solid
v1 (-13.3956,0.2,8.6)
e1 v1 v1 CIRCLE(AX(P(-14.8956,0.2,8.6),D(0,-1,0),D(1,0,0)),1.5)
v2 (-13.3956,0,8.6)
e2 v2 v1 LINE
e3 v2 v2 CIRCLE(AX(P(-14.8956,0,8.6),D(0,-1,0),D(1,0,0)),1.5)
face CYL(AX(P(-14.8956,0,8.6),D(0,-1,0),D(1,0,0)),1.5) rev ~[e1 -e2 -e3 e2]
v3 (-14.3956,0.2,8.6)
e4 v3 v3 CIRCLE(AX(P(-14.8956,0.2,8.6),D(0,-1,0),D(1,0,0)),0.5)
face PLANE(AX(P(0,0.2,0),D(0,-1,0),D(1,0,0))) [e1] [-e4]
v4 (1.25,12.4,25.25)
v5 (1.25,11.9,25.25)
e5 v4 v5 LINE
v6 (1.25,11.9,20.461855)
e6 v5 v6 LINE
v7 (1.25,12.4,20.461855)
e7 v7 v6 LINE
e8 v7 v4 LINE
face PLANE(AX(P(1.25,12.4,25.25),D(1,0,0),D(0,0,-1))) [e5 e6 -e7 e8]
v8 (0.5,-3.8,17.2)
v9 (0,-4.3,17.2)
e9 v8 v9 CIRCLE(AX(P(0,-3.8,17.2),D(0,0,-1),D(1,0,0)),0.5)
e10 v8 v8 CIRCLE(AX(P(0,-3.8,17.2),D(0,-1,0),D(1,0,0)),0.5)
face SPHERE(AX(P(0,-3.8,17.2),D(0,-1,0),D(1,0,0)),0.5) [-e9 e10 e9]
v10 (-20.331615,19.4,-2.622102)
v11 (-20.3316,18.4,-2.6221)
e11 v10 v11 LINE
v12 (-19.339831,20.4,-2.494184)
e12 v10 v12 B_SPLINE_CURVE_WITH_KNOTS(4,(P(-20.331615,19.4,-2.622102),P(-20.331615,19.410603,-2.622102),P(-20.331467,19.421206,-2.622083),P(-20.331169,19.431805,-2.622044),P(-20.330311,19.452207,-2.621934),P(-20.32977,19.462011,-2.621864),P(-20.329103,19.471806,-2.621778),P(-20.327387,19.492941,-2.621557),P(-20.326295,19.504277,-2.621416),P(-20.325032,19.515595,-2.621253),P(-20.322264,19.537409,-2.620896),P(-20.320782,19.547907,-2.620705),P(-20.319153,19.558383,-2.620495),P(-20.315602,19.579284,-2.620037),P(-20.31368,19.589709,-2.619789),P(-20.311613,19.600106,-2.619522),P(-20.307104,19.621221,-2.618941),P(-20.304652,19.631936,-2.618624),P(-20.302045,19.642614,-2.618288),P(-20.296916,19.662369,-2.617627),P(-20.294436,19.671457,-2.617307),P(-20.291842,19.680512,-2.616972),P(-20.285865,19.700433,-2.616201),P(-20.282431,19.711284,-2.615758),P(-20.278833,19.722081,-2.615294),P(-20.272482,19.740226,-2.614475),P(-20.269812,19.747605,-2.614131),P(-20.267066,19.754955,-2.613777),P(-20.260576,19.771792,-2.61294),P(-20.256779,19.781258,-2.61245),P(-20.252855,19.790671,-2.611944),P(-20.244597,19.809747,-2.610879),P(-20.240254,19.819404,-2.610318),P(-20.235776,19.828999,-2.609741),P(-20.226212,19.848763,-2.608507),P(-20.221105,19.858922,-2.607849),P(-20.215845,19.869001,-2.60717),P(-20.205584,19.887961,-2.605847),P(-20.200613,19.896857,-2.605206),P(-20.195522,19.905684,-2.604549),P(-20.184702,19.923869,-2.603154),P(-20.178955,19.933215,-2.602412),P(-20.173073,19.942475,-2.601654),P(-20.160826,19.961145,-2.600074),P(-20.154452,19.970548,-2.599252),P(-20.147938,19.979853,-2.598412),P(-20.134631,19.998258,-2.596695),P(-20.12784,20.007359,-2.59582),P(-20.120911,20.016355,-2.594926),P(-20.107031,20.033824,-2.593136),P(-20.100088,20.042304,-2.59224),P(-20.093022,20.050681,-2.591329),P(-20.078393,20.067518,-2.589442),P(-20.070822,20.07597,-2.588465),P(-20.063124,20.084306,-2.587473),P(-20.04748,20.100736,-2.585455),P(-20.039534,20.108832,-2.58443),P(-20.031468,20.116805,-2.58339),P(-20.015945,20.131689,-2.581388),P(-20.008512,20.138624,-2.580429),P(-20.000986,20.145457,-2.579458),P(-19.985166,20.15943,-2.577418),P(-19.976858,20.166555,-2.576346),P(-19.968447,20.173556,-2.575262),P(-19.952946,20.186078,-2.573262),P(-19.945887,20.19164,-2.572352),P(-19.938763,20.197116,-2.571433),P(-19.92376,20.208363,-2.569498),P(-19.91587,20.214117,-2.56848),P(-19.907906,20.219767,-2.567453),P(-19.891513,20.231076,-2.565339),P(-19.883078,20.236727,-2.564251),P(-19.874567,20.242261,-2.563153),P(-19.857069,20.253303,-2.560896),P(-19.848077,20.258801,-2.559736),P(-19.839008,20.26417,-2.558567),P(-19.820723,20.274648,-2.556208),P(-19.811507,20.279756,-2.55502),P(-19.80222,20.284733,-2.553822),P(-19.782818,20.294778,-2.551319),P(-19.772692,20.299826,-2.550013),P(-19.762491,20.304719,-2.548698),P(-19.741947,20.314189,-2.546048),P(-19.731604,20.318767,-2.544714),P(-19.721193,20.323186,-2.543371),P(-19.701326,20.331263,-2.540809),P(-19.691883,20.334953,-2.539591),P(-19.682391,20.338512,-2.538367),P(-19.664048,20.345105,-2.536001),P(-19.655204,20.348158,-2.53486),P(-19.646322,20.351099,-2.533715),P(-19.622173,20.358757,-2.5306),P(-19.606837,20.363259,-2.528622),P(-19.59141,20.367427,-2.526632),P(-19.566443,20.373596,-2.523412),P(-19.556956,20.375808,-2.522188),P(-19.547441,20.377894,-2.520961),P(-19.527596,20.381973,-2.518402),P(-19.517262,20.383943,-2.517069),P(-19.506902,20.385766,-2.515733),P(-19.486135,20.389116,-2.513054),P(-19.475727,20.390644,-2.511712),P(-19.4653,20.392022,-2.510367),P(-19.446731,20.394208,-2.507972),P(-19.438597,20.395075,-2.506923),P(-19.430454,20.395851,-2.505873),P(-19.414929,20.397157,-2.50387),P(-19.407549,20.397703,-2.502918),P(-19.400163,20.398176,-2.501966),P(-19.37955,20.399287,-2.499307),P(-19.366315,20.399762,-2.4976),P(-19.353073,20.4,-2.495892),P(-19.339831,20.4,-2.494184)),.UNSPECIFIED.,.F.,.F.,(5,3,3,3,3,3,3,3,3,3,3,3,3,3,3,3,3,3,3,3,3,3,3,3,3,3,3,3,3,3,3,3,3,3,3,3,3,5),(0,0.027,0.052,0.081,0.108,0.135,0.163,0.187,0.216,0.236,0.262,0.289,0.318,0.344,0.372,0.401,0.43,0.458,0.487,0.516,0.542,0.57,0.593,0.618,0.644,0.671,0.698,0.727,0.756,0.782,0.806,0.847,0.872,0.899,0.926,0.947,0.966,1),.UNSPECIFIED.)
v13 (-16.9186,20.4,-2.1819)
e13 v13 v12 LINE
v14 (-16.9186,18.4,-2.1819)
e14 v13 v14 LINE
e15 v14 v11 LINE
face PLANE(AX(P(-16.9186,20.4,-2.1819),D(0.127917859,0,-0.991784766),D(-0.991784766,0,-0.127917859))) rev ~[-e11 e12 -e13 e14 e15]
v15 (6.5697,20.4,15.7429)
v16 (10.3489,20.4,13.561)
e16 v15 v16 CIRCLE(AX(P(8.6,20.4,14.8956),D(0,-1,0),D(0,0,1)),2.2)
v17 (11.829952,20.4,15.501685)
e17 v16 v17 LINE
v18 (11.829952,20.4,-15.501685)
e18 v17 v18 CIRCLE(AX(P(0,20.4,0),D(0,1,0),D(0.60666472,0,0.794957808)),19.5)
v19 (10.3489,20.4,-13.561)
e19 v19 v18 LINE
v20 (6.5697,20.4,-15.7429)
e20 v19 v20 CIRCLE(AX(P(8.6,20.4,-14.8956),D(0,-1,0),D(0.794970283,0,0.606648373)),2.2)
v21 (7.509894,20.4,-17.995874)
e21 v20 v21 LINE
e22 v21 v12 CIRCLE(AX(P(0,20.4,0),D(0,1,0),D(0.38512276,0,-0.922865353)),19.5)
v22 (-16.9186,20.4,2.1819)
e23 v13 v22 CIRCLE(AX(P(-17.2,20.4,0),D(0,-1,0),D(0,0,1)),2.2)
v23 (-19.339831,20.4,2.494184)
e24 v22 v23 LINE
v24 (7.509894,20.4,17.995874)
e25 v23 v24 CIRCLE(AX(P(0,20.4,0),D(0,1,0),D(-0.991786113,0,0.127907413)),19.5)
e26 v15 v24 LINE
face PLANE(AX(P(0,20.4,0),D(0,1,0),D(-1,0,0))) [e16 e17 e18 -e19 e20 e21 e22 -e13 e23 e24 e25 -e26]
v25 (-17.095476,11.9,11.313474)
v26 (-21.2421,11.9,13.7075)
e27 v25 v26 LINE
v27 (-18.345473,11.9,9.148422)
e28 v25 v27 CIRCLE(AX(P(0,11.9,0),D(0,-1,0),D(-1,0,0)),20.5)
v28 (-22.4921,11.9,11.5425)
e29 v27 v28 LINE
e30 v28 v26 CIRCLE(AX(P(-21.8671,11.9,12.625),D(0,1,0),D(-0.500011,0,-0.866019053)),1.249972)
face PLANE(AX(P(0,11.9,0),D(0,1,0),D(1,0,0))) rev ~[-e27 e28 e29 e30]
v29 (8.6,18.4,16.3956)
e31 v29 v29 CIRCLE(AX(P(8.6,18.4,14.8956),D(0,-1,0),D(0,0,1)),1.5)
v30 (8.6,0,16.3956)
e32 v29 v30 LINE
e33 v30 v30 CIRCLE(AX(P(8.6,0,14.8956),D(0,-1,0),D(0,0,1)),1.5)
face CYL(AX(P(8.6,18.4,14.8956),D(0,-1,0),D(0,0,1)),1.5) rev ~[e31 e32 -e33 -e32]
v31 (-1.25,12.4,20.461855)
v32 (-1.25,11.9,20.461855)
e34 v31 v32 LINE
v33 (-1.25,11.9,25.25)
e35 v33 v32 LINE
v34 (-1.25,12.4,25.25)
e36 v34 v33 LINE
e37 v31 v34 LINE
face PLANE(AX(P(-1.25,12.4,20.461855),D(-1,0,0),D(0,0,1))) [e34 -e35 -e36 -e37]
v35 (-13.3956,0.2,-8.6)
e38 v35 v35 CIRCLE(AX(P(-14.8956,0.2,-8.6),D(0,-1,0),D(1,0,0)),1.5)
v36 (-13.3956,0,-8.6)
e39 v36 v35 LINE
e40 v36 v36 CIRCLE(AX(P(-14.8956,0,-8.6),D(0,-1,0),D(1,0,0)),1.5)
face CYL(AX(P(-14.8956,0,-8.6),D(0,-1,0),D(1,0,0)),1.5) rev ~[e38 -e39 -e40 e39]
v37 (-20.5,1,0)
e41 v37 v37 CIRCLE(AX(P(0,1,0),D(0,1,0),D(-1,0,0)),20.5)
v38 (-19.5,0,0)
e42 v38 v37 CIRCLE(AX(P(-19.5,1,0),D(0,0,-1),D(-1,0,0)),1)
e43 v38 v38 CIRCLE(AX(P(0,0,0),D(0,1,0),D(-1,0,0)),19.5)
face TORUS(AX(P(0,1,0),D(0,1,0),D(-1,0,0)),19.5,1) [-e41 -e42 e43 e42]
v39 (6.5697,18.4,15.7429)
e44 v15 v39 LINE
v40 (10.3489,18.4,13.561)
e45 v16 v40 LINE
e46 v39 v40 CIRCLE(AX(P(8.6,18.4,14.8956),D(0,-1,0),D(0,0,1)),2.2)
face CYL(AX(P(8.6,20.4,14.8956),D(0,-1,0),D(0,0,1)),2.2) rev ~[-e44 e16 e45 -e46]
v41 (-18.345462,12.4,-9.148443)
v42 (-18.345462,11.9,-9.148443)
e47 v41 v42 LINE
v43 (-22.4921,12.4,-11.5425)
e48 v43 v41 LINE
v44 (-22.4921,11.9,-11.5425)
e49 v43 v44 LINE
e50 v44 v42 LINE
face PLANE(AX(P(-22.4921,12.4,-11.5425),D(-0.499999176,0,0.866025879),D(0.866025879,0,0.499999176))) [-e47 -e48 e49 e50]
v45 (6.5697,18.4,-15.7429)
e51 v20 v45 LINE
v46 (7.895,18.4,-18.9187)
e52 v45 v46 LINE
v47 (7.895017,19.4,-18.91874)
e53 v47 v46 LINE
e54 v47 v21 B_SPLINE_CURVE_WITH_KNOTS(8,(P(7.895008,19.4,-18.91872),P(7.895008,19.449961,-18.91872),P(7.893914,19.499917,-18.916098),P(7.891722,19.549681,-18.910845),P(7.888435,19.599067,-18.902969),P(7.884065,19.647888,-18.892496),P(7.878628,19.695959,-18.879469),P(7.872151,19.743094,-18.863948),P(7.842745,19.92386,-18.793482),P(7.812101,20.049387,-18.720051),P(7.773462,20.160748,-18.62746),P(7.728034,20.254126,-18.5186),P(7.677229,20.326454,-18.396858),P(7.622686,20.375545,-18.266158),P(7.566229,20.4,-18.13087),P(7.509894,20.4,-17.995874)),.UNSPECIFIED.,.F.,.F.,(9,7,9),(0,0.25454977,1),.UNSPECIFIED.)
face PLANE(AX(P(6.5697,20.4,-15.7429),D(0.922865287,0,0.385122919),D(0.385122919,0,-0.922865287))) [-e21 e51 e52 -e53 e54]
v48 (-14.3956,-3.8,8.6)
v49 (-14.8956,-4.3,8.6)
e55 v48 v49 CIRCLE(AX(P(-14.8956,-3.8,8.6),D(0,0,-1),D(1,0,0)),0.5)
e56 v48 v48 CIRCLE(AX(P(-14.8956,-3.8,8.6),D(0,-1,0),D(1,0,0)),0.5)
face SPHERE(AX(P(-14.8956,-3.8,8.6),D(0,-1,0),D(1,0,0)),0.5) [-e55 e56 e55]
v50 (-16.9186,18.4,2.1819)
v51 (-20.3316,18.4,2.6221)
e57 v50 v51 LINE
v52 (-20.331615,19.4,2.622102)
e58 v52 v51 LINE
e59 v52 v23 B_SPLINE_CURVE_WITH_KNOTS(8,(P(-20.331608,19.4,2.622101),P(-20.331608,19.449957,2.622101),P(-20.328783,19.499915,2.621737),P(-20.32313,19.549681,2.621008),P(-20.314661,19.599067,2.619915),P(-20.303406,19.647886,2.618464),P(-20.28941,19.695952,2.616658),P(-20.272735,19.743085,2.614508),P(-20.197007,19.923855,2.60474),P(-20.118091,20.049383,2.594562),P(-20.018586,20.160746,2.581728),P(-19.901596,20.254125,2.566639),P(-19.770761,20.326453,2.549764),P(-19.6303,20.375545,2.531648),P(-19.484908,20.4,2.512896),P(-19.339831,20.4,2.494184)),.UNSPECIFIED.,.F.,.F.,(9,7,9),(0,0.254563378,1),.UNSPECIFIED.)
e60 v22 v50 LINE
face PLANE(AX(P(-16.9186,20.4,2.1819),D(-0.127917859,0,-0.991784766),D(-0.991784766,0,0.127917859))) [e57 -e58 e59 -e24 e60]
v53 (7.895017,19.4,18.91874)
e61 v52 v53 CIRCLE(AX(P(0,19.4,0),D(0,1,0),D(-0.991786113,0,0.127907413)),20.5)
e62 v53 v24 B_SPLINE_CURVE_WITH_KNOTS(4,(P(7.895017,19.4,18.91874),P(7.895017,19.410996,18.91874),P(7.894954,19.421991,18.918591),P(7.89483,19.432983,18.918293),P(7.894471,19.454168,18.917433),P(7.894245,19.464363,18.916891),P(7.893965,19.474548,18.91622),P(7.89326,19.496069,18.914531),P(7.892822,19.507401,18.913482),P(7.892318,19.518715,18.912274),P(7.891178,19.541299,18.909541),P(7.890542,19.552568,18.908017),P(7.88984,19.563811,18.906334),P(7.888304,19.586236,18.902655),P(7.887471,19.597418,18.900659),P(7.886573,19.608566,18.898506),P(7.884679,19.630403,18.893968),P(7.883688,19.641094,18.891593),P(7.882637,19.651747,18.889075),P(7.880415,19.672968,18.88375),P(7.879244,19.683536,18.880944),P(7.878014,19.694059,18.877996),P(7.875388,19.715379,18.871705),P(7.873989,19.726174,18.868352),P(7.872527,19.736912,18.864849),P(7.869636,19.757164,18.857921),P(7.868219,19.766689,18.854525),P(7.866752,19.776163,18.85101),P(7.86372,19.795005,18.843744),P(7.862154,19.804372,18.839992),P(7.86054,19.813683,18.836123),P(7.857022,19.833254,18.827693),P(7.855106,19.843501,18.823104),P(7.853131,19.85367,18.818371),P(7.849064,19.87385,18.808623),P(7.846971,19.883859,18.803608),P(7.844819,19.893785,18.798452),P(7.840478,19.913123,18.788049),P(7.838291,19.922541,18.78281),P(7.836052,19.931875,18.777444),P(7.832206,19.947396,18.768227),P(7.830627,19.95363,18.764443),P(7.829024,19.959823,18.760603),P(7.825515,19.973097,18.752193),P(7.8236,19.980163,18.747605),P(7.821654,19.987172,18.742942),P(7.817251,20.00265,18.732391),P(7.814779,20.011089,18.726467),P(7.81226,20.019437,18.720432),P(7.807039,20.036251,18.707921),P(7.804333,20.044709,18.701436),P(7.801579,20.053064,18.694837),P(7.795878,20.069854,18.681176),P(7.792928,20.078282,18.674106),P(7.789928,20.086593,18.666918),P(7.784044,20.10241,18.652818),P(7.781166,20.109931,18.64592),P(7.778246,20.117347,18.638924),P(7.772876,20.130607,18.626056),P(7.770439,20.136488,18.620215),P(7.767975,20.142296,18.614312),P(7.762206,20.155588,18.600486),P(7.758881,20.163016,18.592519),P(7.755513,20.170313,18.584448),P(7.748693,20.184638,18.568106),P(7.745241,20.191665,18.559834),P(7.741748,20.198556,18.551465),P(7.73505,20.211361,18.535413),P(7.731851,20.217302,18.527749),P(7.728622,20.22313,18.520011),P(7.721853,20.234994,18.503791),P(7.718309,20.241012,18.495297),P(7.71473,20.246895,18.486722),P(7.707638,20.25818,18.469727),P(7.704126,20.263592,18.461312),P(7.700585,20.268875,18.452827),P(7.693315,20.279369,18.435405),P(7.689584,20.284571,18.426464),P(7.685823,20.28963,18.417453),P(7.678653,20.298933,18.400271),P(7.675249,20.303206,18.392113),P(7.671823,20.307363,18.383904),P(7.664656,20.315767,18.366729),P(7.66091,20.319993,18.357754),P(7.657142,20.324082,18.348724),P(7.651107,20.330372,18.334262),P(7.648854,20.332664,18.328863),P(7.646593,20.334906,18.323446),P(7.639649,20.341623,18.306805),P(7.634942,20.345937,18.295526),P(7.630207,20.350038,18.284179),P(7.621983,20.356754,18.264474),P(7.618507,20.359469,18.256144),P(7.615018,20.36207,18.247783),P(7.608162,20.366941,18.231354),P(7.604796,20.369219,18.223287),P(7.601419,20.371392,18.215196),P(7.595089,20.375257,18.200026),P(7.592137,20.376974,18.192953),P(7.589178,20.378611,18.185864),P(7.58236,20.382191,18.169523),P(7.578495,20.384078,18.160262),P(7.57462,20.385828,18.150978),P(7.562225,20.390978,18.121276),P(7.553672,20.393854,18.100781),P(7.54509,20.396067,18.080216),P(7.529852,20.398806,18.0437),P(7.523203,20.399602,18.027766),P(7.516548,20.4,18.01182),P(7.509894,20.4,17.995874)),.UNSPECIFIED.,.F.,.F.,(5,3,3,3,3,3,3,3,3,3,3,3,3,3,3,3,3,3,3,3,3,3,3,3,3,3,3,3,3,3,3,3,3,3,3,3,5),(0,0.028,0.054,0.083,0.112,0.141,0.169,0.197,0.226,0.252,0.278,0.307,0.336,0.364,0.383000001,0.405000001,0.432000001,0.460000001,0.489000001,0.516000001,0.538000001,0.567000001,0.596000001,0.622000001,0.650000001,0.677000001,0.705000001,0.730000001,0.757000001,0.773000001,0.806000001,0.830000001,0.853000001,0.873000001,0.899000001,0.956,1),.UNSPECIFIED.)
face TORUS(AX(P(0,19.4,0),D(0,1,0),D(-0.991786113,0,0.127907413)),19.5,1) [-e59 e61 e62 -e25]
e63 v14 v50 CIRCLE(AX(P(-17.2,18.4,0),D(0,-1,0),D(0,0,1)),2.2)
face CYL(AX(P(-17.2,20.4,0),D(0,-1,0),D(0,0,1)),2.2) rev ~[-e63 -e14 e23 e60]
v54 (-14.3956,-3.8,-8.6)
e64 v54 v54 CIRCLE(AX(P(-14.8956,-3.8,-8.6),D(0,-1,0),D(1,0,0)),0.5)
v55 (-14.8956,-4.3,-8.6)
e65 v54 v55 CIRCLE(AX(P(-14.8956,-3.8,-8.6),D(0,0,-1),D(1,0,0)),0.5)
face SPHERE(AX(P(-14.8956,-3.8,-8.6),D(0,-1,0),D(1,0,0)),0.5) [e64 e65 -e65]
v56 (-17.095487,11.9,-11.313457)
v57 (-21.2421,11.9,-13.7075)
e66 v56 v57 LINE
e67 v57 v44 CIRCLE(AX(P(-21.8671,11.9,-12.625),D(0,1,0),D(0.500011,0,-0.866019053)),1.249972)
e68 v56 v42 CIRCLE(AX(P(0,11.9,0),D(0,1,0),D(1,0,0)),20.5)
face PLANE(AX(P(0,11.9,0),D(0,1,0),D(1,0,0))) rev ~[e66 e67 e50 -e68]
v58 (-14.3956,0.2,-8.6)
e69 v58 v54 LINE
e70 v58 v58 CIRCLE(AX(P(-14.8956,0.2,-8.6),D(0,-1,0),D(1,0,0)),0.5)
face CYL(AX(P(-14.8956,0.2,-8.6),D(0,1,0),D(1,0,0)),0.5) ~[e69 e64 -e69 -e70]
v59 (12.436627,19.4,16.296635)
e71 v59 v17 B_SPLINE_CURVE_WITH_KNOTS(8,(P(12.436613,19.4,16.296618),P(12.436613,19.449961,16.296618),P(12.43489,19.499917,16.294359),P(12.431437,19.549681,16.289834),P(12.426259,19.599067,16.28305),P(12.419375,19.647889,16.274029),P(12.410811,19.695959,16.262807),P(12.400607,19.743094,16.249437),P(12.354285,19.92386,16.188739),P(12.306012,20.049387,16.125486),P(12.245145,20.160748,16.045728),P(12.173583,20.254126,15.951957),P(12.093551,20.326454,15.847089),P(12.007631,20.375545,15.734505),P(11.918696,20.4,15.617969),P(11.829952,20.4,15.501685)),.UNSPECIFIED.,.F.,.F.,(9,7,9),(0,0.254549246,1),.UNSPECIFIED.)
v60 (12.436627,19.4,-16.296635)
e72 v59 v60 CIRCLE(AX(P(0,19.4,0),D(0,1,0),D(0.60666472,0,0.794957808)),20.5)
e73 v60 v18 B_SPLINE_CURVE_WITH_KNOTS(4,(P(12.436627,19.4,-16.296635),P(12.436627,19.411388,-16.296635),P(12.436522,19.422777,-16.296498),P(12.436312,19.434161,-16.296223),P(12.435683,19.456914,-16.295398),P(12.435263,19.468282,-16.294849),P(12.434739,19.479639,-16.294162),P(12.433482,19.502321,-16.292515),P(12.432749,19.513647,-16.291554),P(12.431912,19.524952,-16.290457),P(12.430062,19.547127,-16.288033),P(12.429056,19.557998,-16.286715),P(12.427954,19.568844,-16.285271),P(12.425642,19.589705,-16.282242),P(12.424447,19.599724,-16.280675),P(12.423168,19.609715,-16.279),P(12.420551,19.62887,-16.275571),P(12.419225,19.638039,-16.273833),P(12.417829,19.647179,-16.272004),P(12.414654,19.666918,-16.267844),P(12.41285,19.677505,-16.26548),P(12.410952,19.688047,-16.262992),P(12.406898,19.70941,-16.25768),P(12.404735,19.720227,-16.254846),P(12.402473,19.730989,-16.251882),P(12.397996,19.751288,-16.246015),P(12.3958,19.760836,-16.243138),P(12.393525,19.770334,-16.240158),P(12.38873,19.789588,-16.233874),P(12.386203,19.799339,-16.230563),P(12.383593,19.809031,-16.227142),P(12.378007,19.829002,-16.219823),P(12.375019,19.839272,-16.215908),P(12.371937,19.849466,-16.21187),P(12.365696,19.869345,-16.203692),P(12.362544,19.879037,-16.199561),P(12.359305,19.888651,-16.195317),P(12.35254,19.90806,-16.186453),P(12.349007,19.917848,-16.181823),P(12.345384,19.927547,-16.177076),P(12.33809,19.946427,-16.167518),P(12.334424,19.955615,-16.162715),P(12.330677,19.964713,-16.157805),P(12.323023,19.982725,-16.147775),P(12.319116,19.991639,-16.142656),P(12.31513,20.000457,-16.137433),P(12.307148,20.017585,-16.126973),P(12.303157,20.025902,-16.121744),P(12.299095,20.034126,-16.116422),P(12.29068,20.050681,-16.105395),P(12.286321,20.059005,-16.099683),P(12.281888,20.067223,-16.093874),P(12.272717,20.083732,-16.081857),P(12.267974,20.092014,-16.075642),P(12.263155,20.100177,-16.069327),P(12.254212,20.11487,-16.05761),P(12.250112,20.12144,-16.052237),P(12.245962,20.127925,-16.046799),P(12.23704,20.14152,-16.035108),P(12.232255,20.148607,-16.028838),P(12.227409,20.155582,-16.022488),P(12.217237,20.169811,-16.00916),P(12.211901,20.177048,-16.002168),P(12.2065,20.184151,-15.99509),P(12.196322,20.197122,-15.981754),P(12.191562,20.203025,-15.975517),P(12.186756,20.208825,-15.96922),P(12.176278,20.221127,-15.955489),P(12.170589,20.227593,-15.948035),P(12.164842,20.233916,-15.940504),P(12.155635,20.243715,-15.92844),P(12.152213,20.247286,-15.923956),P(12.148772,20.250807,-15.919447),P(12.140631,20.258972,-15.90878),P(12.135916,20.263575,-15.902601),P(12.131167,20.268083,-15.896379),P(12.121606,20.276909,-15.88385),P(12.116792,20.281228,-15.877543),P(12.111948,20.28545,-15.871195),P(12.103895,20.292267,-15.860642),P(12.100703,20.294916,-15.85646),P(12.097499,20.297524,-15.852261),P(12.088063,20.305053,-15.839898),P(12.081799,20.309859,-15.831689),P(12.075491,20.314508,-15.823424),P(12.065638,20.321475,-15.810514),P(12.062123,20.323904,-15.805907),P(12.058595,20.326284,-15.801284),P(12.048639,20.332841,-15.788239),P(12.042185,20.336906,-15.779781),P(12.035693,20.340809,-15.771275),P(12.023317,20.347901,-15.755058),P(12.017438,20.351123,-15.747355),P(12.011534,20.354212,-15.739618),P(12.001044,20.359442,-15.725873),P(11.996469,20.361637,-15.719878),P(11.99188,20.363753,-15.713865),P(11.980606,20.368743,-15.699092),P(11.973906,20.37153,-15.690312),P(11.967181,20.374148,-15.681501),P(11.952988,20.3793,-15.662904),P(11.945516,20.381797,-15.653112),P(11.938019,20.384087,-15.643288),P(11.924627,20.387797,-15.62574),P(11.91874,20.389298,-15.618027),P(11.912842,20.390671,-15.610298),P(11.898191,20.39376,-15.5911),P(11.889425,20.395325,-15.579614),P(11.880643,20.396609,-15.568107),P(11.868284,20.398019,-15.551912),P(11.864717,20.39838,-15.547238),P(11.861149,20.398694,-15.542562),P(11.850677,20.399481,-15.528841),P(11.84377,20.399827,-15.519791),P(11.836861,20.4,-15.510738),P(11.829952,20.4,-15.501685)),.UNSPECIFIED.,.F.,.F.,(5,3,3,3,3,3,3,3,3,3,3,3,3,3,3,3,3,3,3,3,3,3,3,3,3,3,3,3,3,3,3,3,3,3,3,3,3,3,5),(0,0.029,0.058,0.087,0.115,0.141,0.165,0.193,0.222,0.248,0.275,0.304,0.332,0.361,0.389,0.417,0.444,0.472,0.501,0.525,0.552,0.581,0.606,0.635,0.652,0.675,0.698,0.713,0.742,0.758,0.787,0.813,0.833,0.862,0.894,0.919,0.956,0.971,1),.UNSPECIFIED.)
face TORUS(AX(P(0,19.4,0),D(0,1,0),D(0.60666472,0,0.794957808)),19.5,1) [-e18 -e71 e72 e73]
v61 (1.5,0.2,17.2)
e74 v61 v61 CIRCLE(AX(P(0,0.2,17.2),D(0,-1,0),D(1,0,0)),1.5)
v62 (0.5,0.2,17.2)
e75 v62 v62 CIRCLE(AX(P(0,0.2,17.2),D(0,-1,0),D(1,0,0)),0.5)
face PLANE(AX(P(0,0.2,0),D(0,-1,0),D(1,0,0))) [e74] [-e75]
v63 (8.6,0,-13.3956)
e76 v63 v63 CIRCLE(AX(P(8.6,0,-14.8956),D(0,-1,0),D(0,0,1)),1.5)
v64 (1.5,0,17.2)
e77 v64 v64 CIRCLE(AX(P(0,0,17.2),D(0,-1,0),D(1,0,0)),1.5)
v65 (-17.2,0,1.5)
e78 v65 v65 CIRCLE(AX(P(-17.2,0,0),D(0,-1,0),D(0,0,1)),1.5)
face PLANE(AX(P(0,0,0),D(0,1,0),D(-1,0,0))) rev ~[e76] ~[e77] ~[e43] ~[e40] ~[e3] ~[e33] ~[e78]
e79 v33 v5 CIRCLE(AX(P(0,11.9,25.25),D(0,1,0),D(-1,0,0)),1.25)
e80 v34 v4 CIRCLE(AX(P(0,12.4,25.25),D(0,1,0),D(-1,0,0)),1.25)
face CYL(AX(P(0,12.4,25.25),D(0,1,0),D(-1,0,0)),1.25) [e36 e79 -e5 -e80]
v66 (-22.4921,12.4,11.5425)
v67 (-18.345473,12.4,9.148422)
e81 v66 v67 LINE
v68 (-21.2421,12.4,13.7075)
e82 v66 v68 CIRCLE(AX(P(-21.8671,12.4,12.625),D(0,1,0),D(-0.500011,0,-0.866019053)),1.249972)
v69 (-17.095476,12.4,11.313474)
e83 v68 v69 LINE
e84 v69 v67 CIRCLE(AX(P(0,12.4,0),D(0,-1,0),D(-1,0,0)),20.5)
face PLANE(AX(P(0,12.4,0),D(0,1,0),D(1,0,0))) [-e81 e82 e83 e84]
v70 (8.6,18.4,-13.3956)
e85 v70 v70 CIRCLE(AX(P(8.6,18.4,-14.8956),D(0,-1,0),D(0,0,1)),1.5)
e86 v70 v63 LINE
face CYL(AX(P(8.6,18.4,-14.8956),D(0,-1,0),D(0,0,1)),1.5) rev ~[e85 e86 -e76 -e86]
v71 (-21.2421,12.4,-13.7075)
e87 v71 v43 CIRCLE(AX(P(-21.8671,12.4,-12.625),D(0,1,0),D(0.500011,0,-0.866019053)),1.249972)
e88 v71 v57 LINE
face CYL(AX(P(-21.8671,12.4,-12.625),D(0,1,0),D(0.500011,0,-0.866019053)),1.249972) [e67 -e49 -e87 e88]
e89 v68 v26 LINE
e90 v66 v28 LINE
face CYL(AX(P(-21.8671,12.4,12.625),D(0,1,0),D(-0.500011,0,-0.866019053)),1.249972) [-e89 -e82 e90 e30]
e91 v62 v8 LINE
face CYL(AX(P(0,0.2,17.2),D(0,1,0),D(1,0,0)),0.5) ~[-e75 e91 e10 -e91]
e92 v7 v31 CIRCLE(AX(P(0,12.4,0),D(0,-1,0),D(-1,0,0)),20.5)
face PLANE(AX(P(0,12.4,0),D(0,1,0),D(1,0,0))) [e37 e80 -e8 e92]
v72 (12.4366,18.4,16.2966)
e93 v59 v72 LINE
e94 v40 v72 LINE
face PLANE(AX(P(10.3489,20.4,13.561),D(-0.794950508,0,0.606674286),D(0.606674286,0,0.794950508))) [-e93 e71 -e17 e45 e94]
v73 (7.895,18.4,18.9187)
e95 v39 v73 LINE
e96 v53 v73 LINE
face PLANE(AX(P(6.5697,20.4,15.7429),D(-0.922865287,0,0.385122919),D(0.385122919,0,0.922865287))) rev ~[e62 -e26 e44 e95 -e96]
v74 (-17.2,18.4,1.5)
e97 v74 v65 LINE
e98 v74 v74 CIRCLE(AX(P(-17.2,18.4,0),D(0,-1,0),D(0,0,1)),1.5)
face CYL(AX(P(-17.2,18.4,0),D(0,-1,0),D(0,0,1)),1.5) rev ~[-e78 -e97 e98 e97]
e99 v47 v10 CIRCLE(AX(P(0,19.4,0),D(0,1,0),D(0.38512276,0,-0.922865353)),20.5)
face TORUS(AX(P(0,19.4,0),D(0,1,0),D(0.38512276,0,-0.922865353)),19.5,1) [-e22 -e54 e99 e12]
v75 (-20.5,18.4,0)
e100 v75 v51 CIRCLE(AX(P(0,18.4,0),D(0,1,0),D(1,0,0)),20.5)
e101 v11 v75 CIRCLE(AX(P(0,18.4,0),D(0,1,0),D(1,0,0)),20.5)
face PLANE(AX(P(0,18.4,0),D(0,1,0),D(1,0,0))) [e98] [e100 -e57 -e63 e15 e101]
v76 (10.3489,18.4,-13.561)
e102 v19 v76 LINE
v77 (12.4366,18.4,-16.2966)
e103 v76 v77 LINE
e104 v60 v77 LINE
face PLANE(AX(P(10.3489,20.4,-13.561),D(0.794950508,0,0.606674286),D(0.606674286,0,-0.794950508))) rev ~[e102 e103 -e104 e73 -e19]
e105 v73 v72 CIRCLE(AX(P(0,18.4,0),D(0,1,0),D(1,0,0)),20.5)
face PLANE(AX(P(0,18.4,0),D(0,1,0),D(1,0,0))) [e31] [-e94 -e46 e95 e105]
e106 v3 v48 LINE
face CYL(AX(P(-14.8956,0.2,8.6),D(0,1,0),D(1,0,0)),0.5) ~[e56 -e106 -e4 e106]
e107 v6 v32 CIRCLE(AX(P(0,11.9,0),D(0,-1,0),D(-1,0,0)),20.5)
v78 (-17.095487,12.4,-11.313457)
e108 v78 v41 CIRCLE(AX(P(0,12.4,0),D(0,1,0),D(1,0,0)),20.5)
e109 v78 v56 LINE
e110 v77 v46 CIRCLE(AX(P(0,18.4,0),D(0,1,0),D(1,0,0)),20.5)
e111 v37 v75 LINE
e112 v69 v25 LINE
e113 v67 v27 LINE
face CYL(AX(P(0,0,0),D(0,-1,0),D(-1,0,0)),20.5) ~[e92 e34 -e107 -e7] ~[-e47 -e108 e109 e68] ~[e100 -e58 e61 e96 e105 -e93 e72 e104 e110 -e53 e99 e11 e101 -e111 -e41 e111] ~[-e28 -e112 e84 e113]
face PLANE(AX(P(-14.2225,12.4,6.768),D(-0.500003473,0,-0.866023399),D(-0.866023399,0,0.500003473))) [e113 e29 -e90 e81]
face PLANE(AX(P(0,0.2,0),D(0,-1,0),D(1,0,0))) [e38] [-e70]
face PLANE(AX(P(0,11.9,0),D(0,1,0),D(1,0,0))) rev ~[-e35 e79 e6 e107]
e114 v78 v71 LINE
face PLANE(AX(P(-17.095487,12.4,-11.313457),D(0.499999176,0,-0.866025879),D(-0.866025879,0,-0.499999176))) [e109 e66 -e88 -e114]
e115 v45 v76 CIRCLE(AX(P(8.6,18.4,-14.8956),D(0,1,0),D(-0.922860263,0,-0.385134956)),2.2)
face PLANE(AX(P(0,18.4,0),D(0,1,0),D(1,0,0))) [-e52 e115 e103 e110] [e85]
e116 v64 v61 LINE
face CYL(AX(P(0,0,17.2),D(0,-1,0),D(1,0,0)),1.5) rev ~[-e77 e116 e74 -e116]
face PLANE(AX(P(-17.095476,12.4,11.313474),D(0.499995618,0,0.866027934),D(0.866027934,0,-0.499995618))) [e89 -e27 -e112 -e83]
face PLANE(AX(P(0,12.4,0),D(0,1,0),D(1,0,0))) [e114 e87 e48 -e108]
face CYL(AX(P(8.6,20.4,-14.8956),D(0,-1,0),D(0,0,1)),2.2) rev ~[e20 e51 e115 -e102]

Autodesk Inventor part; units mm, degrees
ref_plane "YZ Plane" through (0, 0, 0) normal (1, 0, 0) x (0, 1, 0)
ref_plane "XZ Plane" through (0, 0, 0) normal (0, 1, 0) x (-1, 0, 0)
sketch "Sketch1" plane through (0, 0, 0) normal (0, 1, 0) x (-1, 0, 0)
  circle A0 centre (0, 0) radius 20.5
  dimension "d0" = 41
extrude "Extrusion1" add sketch "Sketch1" along normal blind 20.4
sketch "Sketch2" plane through (0, 20.4, 0) normal (0, 1, 0) x (1, 0, 0)
  line L0 (-25.2236, 0) -> (25.6343, 0)
  circle A0 centre (0, 0) radius 17.2 construction
  point P0 (-17.2, 0)
  point P1 (8.6, -14.8956)
  point P2 (8.6, 14.8956)
  dimension "d3" = 34.4
  dimension "d6" = 360
hole "Hole1" at (-17.2, 20.4, 0) at (8.6, 20.4, 14.8956) at (8.6, 20.4, -14.8956) direction (0, -1, 0) diameter 3 end through all counterbore diameter 4.4 counterbore depth 2
sketch "Sketch3" plane through (0, 20.4, 0) normal (0, 1, 0) x (1, 0, 0)
  circle A0 centre (8.6, -14.8956) radius 2.2 projected
  circle A1 centre (-17.2, 0) radius 2.2 projected
  circle A2 centre (8.6, 14.8956) radius 2.2 projected
  circle A3 centre (0, 0) radius 20.5 projected
  line L0 (6.5697, -15.7429) -> (7.895, -18.9187)
  circle A4 centre (0, 0) radius 20.5 projected
  line L1 (10.3489, -13.561) -> (12.4366, -16.2966)
  line L2 (10.3489, 13.561) -> (12.4366, 16.2966)
  line L3 (6.5697, 15.7429) -> (7.895, 18.9187)
  line L4 (-16.9186, 2.1819) -> (-20.3316, 2.6221)
  line L5 (-16.9186, -2.1819) -> (-20.3316, -2.6221)
  circle A5 centre (-17.2, 0) radius 2.2 projected
  circle A6 centre (8.6, 14.8956) radius 2.2 projected
  circle A7 centre (8.6, -14.8956) radius 2.2 projected
extrude "Extrusion2" cut sketch "Sketch3" against normal blind 2 contours A0 L1 A3 L0 | A3 L4 A1 L5 | L2 A2 L3 A3
ref_plane "Work Plane1" through (0, 12.4, 0) normal (0, 1, 0) x (1, 0, 0)
sketch "Sketch4" plane through (0, 12.4, 0) normal (0, 1, 0) x (1, 0, 0)
  circle A0 centre (8.6, -14.8956) radius 1.5 projected
  circle A1 centre (-17.2, 0) radius 1.5 projected
  circle A2 centre (8.6, 14.8956) radius 1.5 projected
  circle A3 centre (0, 0) radius 20.5 projected
  line L0 (0, 0) -> (-21.2105, -12.2459) construction
  line L1 (0, 0) -> (-21.8671, 12.625) construction
  line L2 (-23.6336, 0) -> (24.9961, 0) construction
  line L3 (0, 0) -> (0, -27.2781) construction
  line L4 (-12.9995, 7.5053) -> (-21.8671, 12.625) construction
  line L5 (-12.3745, 8.5878) -> (-21.2421, 13.7075)
  line L6 (-22.4921, 11.5425) -> (-13.6245, 6.4228)
  arc A4 (-13.6245, 6.4228) -> (-12.3745, 8.5878) centre (-12.9995, 7.5053) ccw
  arc A5 (-21.2421, 13.7075) -> (-22.4921, 11.5425) centre (-21.8671, 12.625) ccw
  line L7 (-21.8671, -12.625) -> (-13.5975, -7.8505) construction
  line L8 (-21.2421, -13.7075) -> (-12.9725, -8.9331)
  line L9 (-14.2225, -6.768) -> (-22.4921, -11.5425)
  arc A6 (-22.4921, -11.5425) -> (-21.2421, -13.7075) centre (-21.8671, -12.625) ccw
  arc A7 (-12.9725, -8.9331) -> (-14.2225, -6.768) centre (-13.5975, -7.8505) ccw
  line L10 (0, -25.25) -> (0, -15.6538) construction
  line L11 (1.25, -25.25) -> (1.25, -15.6538)
  line L12 (-1.25, -15.6538) -> (-1.25, -25.25)
  arc A8 (-1.25, -25.25) -> (1.25, -25.25) centre (0, -25.25) ccw
  arc A9 (1.25, -15.6538) -> (-1.25, -15.6538) centre (0, -15.6538) ccw
  point P0 (-17.4333, 10.0651)
  point P1 (-17.7323, -10.2378)
  point P2 (0, -20.4519)
  point P3 (-18.3455, 9.1484)
  point P4 (-17.0955, 11.3135)
  dimension "d18" = 30
  dimension "d19" = 30
  dimension "d20" = 60
  dimension "d21" = 2.5
  dimension "d22" = 6
  dimension "d23" = 2.5
  dimension "d24" = 2.5
  dimension "d25" = 6
  dimension "d26" = 6
extrude "Extrusion3" add sketch "Sketch4" against normal blind 0.5 contours A3 L6 A5 L5 | L11 A8 L12 A3 | A3 L12 A9 L11 | L9 A7 L8 A3 | A3 L8 A6 L9
sketch "Sketch5" plane through (0, 0, 0) normal (0, -1, 0) x (1, 0, 0)
  arc A0 (-17.0955, 11.3135) -> (-18.3455, 9.1484) centre (0, 0) ccw projected
  line L0 (-17.0955, 11.3135) -> (-21.2421, 13.7075) projected
  arc A1 (-21.2421, 13.7075) -> (-22.4921, 11.5425) centre (-21.8671, 12.625) ccw projected
  line L1 (-22.4921, 11.5425) -> (-18.3455, 9.1484) projected
  line L2 (-18.3455, -9.1484) -> (-22.4921, -11.5425) projected
  arc A2 (-22.4921, -11.5425) -> (-21.2421, -13.7075) centre (-21.8671, -12.625) ccw projected
  line L3 (-21.2421, -13.7075) -> (-17.0955, -11.3135) projected
  arc A3 (-18.3455, -9.1484) -> (-17.0955, -11.3135) centre (0, 0) ccw projected
  arc A4 (1.25, 20.4619) -> (-1.25, 20.4619) centre (0, 0) ccw projected
  line L4 (1.25, 20.4619) -> (1.25, 25.25) projected
  arc A5 (1.25, 25.25) -> (-1.25, 25.25) centre (0, 25.25) ccw projected
  line L5 (-1.25, 25.25) -> (-1.25, 20.4619) projected
  circle A6 centre (8.6, 14.8956) radius 1.5 projected
  circle A7 centre (-17.2, 0) radius 1.5 projected
  circle A8 centre (8.6, -14.8956) radius 1.5 projected
  circle A9 centre (0, 0) radius 20.5 projected
  line L6 (0, 34.5014) -> (0, -27.9837) construction
  line L7 (0, 0) -> (-32.677, 18.8661) construction
  line L8 (0, 0) -> (-32.677, -18.8661) construction
  circle A10 centre (0, 0) radius 17.2 construction
  circle A11 centre (0, 17.2) radius 1.5
  circle A12 centre (-14.8956, 8.6) radius 1.5
  circle A13 centre (-14.8956, -8.6) radius 1.5
  dimension "d29" = 34.4
  dimension "d30" = 3
  dimension "d31" = 3
  dimension "d32" = 3
extrude "Extrusion4" cut sketch "Sketch5" against normal blind 0.2 contours A11 | A12 | A13
sketch "Sketch7" plane through (-14.8956, 0.2, 8.6) normal (0, -1, 0) x (1, 0, 0)
  circle A0 centre (14.8956, 8.6) radius 1.5 projected
  circle A1 centre (0, 0) radius 1.5 projected
  circle A2 centre (0, -17.2) radius 1.5 projected
  circle A3 centre (23.4956, 6.2956) radius 1.5 projected
  circle A4 centre (-2.3044, -8.6) radius 1.5 projected
  circle A5 centre (23.4956, -23.4956) radius 1.5 projected
  circle A6 centre (14.8956, -8.6) radius 20.5 projected
  circle A7 centre (0, 0) radius 0.5
  circle A8 centre (14.8956, 8.6) radius 0.5
  circle A9 centre (0, -17.2) radius 0.5
  dimension "d36" = 1
  dimension "d37" = 1
  dimension "d38" = 1
extrude "Extrusion5" add sketch "Sketch7" along normal blind 4.5 contours A7 | A8 | A9
fillet "Fillet1" radius 0.5 3 edges at (-15.3956, -4.3, -8.6) (-15.3956, -4.3, 8.6) (-0.5, -4.3, 17.2)
fillet "Fillet2" radius 1 4 edges at (-10.25, 20.4, 17.7535) (-10.25, 20.4, -17.7535) (20.5, 20.4, 0) (20.5, 0, 0)
properties part number "S200 EChem Sensor"
